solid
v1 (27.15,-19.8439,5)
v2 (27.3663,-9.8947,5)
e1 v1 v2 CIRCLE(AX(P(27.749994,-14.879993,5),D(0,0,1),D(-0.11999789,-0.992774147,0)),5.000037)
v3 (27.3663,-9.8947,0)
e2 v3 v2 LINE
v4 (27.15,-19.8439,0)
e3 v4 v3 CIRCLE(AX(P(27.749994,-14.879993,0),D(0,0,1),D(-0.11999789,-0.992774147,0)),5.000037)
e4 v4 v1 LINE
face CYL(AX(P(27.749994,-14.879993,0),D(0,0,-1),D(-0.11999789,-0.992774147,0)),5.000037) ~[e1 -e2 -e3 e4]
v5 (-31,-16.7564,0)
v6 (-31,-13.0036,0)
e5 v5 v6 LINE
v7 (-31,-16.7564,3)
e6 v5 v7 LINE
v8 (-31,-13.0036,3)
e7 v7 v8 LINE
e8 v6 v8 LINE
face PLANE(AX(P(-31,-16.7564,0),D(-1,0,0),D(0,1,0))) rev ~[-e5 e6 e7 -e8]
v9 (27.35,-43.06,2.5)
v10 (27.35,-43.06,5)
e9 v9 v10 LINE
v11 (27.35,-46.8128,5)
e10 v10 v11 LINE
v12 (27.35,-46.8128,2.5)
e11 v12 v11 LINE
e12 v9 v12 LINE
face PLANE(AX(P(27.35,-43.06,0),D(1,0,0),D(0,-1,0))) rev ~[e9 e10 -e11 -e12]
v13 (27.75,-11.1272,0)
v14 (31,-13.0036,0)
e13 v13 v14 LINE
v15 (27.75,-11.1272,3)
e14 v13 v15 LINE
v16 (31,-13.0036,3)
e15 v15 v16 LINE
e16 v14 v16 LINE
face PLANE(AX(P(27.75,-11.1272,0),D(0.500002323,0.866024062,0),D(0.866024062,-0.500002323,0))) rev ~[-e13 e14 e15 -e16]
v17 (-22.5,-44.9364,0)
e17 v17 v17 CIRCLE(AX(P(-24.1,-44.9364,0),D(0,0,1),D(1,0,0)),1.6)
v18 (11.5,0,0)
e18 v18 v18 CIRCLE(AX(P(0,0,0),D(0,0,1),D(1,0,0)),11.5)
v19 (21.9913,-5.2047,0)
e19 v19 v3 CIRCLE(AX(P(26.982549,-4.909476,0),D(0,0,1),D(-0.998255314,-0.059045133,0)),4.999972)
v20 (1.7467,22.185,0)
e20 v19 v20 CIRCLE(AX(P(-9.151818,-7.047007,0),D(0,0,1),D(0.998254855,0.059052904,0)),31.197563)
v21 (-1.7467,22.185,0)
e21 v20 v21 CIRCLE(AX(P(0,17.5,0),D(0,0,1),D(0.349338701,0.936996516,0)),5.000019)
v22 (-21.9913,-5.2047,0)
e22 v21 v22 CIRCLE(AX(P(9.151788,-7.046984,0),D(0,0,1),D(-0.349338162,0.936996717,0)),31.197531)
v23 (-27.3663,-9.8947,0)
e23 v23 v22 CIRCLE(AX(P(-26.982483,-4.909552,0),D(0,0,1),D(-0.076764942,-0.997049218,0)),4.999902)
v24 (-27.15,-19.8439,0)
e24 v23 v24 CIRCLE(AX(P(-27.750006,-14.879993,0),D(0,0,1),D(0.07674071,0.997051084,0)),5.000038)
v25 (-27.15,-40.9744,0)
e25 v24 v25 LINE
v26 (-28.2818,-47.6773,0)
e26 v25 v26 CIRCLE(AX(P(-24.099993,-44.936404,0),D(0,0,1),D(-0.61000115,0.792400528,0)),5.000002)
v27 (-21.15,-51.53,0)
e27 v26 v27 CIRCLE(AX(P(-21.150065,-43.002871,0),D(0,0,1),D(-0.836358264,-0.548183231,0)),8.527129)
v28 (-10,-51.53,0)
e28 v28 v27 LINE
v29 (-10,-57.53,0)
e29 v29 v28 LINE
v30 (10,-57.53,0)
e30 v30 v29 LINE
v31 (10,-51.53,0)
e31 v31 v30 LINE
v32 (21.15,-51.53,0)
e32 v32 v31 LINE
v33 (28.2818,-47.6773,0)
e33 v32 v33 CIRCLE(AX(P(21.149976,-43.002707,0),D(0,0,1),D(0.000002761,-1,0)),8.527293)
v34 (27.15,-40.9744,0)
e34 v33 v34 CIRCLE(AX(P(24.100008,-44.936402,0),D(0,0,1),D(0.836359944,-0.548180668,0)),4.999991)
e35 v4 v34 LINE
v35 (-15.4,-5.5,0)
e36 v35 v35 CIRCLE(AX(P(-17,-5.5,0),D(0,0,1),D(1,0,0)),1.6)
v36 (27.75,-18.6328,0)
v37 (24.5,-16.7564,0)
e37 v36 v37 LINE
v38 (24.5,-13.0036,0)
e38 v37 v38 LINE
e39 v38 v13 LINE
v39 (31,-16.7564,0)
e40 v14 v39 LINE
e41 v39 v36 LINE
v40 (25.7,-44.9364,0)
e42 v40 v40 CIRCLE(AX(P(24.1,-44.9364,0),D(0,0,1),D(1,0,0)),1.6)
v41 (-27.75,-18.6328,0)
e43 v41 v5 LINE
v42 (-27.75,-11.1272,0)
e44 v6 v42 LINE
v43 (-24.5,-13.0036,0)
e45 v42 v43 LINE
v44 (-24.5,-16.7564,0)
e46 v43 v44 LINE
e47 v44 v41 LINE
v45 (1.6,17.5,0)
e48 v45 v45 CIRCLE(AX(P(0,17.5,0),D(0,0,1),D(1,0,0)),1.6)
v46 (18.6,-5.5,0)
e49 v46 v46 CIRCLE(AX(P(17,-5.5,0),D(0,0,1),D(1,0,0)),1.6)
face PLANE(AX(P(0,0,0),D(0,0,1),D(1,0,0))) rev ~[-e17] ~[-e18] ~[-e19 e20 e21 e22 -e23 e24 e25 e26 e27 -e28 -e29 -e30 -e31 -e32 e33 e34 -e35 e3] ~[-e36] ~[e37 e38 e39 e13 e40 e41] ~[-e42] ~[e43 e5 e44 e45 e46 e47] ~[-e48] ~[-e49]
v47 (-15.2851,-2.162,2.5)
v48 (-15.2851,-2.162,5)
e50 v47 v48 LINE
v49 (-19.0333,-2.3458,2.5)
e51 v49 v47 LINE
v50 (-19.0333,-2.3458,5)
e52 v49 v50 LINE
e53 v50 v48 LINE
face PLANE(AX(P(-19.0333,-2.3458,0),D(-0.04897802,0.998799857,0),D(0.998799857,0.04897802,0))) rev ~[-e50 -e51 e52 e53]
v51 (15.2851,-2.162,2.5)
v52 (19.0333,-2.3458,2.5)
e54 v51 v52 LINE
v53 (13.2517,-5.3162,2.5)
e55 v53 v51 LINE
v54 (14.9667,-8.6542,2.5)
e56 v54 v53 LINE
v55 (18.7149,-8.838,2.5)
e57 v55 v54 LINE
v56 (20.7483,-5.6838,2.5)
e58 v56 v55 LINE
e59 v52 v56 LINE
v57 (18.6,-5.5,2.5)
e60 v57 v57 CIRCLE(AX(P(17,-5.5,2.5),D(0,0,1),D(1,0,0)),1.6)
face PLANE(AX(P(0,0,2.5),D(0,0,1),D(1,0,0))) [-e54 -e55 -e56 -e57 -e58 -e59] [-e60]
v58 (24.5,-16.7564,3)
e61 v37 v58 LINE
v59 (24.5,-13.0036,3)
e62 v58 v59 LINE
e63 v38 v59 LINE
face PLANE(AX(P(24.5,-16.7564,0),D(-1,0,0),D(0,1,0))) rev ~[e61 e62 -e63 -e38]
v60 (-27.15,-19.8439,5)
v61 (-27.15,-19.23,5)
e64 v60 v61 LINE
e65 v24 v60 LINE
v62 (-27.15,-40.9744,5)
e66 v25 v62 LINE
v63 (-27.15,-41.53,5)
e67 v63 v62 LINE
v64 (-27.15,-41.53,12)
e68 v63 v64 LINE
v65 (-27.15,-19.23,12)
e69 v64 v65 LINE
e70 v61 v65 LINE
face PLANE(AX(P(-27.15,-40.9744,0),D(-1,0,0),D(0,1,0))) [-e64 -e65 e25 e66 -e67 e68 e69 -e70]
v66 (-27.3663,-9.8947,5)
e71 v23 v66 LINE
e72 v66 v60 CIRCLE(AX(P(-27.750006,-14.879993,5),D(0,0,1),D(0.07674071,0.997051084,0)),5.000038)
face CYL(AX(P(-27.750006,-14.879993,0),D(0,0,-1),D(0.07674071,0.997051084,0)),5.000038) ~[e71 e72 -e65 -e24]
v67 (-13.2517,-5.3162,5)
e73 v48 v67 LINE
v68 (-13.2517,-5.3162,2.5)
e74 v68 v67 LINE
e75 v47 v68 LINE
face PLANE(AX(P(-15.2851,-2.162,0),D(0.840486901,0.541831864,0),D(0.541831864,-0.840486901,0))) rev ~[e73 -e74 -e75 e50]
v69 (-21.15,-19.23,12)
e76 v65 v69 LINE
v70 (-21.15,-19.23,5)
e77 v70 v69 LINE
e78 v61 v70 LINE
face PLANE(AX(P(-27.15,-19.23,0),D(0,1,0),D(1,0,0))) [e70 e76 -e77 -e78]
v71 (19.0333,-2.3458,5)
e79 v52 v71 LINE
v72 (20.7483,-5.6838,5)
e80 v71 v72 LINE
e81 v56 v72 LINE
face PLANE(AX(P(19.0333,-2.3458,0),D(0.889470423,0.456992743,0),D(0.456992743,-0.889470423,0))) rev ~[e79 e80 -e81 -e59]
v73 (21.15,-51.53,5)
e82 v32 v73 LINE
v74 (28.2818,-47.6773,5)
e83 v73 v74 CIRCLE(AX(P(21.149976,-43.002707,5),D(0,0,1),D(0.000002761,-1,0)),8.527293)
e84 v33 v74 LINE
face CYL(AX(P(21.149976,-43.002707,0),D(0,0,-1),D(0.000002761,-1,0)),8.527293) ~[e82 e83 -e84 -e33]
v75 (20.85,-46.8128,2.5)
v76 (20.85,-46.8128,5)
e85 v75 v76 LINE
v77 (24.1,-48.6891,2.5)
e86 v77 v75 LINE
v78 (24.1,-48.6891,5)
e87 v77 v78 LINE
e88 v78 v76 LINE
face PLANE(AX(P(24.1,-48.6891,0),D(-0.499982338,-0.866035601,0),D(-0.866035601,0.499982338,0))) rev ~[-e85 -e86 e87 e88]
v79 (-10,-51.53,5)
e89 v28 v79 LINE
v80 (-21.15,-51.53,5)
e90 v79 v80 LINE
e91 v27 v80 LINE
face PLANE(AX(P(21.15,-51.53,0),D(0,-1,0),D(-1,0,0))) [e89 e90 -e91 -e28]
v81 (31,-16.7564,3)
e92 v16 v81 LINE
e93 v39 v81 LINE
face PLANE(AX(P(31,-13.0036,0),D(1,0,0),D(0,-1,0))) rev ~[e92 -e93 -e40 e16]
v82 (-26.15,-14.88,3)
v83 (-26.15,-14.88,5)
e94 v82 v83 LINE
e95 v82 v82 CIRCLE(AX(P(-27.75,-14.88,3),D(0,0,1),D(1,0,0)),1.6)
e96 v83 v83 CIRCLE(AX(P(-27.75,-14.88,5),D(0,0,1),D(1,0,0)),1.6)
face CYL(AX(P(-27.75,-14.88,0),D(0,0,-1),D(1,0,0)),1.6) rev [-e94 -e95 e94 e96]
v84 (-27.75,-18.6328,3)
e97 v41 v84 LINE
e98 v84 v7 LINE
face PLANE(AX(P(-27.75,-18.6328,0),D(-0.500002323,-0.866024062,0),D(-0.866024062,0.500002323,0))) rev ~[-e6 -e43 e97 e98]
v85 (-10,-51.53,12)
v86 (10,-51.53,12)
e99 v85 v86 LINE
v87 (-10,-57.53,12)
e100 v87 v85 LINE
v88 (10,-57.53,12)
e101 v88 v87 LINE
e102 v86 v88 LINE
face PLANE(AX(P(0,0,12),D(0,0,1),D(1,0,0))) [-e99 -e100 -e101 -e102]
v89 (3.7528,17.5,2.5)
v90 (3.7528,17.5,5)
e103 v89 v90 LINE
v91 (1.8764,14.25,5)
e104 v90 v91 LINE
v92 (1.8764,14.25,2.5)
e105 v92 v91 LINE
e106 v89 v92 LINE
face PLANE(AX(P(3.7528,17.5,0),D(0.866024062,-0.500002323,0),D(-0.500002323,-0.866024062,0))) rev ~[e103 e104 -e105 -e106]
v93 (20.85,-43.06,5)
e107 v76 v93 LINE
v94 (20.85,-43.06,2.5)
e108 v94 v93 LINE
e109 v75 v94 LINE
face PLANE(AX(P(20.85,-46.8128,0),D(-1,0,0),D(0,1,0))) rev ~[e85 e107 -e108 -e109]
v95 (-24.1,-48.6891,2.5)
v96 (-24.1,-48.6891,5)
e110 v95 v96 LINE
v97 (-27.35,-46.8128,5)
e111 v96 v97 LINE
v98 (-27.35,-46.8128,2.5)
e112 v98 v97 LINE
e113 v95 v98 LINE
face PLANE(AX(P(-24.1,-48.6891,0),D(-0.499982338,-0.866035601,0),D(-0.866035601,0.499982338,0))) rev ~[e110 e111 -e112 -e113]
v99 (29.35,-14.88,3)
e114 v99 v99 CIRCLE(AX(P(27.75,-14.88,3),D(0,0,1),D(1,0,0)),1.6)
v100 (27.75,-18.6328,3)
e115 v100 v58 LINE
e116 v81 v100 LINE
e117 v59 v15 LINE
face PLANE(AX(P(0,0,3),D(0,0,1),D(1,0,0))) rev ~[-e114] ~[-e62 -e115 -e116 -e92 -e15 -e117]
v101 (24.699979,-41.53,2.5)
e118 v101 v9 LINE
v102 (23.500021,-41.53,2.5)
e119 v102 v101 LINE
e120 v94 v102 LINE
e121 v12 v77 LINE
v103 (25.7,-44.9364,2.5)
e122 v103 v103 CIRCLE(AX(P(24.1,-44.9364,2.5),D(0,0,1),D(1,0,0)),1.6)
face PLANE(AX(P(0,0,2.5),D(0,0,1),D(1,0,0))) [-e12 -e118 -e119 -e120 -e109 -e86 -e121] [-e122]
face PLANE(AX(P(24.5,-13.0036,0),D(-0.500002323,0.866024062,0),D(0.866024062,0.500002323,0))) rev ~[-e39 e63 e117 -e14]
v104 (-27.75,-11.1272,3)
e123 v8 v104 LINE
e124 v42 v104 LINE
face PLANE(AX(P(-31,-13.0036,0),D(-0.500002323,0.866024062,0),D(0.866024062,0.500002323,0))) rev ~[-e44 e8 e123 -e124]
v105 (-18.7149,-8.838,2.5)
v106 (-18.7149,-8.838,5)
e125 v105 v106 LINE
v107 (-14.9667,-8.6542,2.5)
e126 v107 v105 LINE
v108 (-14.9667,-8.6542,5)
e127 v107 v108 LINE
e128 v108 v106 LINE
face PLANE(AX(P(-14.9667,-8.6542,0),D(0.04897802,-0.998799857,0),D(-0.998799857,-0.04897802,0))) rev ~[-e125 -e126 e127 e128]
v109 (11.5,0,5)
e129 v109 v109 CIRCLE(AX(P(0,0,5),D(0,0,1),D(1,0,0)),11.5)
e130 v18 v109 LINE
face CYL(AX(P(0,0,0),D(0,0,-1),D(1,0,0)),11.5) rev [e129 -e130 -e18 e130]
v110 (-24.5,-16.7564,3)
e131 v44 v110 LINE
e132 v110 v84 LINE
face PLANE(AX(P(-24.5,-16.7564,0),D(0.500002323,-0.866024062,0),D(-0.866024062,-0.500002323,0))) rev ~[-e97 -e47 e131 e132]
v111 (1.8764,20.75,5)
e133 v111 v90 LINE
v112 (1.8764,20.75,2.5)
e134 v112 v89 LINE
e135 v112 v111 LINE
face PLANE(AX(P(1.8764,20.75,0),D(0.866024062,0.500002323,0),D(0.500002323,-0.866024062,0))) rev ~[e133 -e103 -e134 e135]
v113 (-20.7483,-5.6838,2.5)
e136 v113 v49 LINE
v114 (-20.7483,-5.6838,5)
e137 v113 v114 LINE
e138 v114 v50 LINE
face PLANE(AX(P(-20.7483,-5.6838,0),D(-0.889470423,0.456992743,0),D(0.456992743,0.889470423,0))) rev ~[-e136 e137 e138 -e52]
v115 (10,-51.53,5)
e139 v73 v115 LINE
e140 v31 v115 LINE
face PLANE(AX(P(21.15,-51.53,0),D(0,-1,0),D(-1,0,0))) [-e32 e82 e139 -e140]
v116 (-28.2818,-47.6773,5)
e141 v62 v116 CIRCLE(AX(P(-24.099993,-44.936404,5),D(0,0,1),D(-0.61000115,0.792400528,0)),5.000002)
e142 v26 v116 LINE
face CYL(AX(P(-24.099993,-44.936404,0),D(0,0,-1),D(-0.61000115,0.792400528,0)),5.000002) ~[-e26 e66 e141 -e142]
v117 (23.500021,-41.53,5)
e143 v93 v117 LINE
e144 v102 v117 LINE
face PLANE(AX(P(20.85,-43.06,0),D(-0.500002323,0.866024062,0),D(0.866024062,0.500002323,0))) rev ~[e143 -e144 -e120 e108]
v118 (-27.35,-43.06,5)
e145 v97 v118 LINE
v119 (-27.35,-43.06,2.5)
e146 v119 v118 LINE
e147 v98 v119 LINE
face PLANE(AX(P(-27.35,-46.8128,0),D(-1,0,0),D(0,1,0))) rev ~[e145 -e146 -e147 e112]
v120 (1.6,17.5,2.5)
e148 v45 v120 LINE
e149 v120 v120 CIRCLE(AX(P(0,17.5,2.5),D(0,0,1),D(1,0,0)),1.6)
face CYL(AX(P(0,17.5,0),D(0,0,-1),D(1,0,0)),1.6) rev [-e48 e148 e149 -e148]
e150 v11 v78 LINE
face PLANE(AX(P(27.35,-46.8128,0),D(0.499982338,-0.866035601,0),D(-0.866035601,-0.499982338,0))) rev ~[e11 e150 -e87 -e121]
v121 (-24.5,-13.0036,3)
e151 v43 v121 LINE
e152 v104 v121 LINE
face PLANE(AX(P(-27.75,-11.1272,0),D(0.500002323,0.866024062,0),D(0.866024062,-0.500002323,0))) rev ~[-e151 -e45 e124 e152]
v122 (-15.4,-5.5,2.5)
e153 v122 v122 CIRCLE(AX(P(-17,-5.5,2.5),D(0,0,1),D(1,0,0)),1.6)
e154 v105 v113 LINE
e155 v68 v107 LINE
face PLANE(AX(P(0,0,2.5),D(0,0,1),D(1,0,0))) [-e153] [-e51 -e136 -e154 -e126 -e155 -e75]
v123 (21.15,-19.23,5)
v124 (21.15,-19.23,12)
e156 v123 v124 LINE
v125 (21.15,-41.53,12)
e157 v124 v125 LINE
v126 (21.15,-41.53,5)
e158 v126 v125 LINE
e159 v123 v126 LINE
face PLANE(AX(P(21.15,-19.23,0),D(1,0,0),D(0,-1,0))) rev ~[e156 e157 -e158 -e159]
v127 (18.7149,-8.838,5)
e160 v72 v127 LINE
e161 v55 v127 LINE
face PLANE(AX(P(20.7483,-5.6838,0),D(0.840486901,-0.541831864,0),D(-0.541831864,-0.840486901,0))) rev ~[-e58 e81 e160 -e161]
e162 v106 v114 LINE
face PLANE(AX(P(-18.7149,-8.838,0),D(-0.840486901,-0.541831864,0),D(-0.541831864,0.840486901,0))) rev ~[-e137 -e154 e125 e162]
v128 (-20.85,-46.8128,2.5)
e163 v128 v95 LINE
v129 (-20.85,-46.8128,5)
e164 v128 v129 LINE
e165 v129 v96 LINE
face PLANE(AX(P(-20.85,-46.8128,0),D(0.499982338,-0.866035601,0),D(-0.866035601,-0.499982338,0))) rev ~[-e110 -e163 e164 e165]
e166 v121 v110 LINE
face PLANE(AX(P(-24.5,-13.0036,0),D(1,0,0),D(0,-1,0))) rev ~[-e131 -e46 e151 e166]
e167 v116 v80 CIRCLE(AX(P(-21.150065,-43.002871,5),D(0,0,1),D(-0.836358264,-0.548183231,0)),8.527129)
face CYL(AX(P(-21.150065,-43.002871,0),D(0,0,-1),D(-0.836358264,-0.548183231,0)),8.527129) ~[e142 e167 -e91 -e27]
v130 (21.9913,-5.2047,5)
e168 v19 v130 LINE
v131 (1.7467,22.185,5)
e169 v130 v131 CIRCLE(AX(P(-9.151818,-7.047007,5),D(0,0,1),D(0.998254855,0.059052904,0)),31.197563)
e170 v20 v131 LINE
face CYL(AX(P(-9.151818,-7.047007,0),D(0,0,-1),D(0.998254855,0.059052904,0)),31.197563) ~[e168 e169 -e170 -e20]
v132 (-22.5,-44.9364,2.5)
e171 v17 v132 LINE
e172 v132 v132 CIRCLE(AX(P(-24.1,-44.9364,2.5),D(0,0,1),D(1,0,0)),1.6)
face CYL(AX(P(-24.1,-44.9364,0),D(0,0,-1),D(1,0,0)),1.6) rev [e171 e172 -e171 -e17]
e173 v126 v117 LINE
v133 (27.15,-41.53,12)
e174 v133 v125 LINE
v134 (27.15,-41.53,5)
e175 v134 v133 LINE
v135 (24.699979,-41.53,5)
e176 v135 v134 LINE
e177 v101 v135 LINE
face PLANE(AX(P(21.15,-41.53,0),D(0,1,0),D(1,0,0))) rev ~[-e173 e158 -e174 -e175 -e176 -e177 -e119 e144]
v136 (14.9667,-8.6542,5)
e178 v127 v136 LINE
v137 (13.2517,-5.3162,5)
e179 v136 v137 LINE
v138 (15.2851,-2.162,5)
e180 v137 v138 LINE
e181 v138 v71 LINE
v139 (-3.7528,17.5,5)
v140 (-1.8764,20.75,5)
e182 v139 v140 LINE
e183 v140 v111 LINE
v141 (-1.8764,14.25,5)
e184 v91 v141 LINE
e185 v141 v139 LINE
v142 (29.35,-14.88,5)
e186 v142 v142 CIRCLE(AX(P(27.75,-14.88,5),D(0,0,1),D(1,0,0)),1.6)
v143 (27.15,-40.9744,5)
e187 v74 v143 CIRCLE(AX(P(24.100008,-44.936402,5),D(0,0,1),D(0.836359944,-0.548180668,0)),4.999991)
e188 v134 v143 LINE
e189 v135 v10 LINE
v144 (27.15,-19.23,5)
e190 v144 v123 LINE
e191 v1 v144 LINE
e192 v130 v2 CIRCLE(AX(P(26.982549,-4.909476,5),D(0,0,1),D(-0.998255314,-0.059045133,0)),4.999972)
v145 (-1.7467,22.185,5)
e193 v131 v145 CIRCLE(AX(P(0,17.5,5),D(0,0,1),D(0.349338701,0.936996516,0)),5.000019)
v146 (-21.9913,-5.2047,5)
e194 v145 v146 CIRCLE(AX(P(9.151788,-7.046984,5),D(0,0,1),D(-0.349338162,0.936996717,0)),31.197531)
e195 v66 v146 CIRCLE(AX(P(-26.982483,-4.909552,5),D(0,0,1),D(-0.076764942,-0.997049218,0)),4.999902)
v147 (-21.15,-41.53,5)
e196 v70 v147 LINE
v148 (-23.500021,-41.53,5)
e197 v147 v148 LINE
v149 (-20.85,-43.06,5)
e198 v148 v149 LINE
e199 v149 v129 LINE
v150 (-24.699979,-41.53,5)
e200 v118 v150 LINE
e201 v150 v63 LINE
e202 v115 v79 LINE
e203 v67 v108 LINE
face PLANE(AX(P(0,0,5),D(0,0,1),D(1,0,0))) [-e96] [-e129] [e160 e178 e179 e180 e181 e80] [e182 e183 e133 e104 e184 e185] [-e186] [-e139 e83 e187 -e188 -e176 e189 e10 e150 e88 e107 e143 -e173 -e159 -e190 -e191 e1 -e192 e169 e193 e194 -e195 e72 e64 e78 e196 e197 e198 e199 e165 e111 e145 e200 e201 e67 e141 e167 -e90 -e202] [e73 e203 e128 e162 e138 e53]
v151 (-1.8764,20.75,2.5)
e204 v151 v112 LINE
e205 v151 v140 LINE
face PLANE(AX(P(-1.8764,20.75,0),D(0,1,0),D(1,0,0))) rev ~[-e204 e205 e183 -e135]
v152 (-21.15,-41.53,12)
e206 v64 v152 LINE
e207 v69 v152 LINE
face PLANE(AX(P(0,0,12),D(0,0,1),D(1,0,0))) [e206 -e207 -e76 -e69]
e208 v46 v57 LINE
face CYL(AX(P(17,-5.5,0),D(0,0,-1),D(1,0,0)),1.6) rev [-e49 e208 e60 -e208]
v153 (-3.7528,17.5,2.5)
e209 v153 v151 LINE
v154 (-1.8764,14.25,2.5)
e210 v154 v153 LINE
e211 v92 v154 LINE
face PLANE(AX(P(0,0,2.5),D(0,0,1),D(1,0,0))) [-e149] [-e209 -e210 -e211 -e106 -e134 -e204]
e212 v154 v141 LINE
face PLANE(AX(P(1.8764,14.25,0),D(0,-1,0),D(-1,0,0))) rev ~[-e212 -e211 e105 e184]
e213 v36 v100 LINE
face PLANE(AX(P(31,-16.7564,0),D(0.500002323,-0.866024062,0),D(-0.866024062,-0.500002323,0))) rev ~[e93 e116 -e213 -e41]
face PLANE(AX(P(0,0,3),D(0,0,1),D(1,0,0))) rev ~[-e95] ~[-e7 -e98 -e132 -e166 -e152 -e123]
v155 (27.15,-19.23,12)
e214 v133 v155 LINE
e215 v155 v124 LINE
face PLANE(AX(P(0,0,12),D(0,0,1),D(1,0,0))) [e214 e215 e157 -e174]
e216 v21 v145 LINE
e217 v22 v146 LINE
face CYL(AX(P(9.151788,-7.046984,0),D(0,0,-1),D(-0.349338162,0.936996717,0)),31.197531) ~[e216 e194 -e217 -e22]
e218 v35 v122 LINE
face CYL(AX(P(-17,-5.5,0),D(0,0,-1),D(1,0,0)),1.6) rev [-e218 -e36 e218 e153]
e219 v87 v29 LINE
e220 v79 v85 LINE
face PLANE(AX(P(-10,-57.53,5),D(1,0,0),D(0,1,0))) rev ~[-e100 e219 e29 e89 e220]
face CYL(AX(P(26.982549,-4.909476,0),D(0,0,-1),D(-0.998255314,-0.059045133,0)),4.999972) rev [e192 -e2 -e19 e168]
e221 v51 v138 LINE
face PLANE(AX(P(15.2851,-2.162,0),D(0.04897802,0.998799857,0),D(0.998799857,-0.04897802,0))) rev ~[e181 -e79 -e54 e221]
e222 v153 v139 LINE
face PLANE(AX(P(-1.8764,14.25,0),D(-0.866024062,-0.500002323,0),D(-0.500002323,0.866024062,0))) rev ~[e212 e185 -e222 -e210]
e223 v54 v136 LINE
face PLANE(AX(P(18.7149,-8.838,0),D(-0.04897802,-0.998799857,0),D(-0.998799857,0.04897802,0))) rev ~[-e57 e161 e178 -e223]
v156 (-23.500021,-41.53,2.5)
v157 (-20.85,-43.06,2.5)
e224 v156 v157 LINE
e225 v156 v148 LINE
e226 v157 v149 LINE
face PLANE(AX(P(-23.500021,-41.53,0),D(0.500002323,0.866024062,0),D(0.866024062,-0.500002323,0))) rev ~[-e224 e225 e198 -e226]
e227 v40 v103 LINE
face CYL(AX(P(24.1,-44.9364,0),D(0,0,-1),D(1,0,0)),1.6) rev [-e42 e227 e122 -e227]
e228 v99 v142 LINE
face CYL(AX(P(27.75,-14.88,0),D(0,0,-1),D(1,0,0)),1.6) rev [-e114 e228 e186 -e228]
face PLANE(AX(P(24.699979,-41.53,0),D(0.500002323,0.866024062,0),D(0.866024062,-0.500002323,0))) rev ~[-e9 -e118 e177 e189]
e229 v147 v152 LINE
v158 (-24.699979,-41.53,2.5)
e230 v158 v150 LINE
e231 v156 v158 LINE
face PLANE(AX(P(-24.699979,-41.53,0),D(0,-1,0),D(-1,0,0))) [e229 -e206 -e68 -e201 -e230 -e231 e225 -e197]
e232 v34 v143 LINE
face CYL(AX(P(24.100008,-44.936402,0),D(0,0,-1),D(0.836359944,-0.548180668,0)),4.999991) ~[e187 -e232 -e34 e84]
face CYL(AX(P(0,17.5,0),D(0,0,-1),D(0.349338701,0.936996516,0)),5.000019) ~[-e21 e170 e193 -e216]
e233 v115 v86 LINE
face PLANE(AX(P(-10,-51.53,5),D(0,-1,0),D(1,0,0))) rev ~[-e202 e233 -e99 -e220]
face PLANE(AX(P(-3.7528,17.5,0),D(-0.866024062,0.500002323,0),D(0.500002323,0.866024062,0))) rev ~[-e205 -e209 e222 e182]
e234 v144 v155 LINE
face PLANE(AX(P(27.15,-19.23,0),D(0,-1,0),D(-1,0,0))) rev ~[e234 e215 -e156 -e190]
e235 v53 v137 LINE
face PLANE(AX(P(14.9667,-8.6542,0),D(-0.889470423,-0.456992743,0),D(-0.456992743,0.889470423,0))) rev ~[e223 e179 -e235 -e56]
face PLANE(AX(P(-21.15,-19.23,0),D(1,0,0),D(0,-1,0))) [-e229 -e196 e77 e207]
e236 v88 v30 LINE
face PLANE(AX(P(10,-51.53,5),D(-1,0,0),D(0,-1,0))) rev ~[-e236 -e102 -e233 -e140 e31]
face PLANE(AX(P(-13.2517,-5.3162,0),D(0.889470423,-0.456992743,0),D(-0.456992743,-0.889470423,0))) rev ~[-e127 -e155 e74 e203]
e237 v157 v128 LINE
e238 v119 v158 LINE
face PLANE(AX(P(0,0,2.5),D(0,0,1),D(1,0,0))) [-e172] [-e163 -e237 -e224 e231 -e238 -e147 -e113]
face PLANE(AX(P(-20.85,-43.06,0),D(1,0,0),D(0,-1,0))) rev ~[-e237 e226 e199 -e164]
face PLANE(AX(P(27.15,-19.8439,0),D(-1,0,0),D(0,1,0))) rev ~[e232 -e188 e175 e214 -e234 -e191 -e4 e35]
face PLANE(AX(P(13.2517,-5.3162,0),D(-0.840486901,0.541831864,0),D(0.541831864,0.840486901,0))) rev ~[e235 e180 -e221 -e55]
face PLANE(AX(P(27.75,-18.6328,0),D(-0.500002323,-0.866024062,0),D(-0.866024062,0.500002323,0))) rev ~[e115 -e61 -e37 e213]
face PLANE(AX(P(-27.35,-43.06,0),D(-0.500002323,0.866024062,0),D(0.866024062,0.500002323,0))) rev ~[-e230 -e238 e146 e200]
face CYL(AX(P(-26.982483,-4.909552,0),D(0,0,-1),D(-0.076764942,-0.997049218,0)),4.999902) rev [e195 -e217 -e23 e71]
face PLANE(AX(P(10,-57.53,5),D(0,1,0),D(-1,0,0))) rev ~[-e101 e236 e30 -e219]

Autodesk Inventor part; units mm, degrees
ref_plane "YZ Plane" through (0, 0, 0) normal (1, 0, 0) x (0, 1, 0)
ref_plane "XZ Plane" through (0, 0, 0) normal (0, 1, 0) x (-1, 0, 0)
ref_plane "XY Plane" through (0, 0, 0) normal (0, 0, 1) x (1, 0, 0)
sketch "Sketch1" plane through (0, 0, 0) normal (0, 0, 1) x (1, 0, 0)
  circle A0 centre (0, 0) radius 11.5
  line L0 (21.15, -51.53) -> (-21.15, -51.53) construction
  line L1 (-21.15, -51.53) -> (-21.15, -9.23) construction
  line L2 (-21.15, -9.23) -> (21.15, -9.23) construction
  line L3 (21.15, -9.23) -> (21.15, -51.53) construction
  circle A1 centre (0, 17.5) radius 1.6
  circle A2 centre (17, -5.5) radius 1.6
  circle A3 centre (-17, -5.5) radius 1.6
  line L4 (13.2517, -5.3162) -> (15.2851, -2.162)
  line L5 (15.2851, -2.162) -> (19.0333, -2.3458)
  line L6 (19.0333, -2.3458) -> (20.7483, -5.6838)
  line L7 (20.7483, -5.6838) -> (18.7149, -8.838)
  line L8 (18.7149, -8.838) -> (14.9667, -8.6542)
  line L9 (14.9667, -8.6542) -> (13.2517, -5.3162)
  line L10 (-14.9667, -8.6542) -> (-18.7149, -8.838)
  line L11 (-18.7149, -8.838) -> (-20.7483, -5.6838)
  line L12 (-20.7483, -5.6838) -> (-19.0333, -2.3458)
  line L13 (-19.0333, -2.3458) -> (-15.2851, -2.162)
  line L14 (-15.2851, -2.162) -> (-13.2517, -5.3162)
  line L15 (-13.2517, -5.3162) -> (-14.9667, -8.6542)
  line L16 (-1.8764, 14.25) -> (-3.7528, 17.5)
  line L17 (-3.7528, 17.5) -> (-1.8764, 20.75)
  line L18 (-1.8764, 20.75) -> (1.8764, 20.75)
  line L19 (1.8764, 20.75) -> (3.7528, 17.5)
  line L20 (3.7528, 17.5) -> (1.8764, 14.25)
  line L21 (1.8764, 14.25) -> (-1.8764, 14.25)
  line L22 (0, 0) -> (0, 17.5) construction
  line L23 (14.9667, -8.6542) -> (14.9667, -9.23) construction
  line L24 (13.2517, -5.3162) -> (12.7488, -5.0358) construction
  line L25 (21.15, -41.53) -> (27.15, -41.53)
  line L26 (27.15, -41.53) -> (27.15, -19.23)
  line L27 (27.15, -19.23) -> (21.15, -19.23)
  line L28 (21.15, -19.23) -> (21.15, -41.53)
  line L29 (-21.15, -41.53) -> (-27.15, -41.53)
  line L30 (-27.15, -41.53) -> (-27.15, -19.23)
  line L31 (-27.15, -19.23) -> (-21.15, -19.23)
  line L32 (-21.15, -19.23) -> (-21.15, -41.53)
  circle A4 centre (27.75, -14.88) radius 1.6
  circle A5 centre (-27.75, -14.88) radius 1.6
  line L33 (24.5, -16.7564) -> (24.5, -13.0036)
  line L34 (24.5, -13.0036) -> (27.75, -11.1272)
  line L35 (27.75, -11.1272) -> (31, -13.0036)
  line L36 (31, -13.0036) -> (31, -16.7564)
  line L37 (31, -16.7564) -> (27.75, -18.6328)
  line L38 (27.75, -18.6328) -> (24.5, -16.7564)
  line L39 (-27.75, -18.6328) -> (-31, -16.7564)
  line L40 (-31, -16.7564) -> (-31, -13.0036)
  line L41 (-31, -13.0036) -> (-27.75, -11.1272)
  line L42 (-27.75, -11.1272) -> (-24.5, -13.0036)
  line L43 (-24.5, -13.0036) -> (-24.5, -16.7564)
  line L44 (-24.5, -16.7564) -> (-27.75, -18.6328)
  circle A6 centre (-24.1, -44.9364) radius 1.6
  circle A7 centre (24.1, -44.9364) radius 1.6
  line L45 (-24.1, -48.6891) -> (-27.35, -46.8128)
  line L46 (-27.35, -46.8128) -> (-27.35, -43.06)
  line L47 (-27.35, -43.06) -> (-24.1, -41.1836)
  line L48 (-24.1, -41.1836) -> (-20.85, -43.06)
  line L49 (-20.85, -43.06) -> (-20.85, -46.8128)
  line L50 (-20.85, -46.8128) -> (-24.1, -48.6891)
  line L51 (24.1, -48.6891) -> (20.85, -46.8128)
  line L52 (20.85, -46.8128) -> (20.85, -43.06)
  line L53 (20.85, -43.06) -> (24.1, -41.1836)
  line L54 (24.1, -41.1836) -> (27.35, -43.06)
  line L55 (27.35, -43.06) -> (27.35, -46.8128)
  line L56 (27.35, -46.8128) -> (24.1, -48.6891)
  arc A8 (-27.3663, -9.8947) -> (-27.15, -19.8439) centre (-27.75, -14.88) ccw
  arc A9 (27.15, -19.8439) -> (27.3663, -9.8947) centre (27.75, -14.88) ccw
  arc A10 (-27.15, -40.9744) -> (-28.2818, -47.6773) centre (-24.1, -44.9364) ccw
  arc A11 (28.2818, -47.6773) -> (27.15, -40.9744) centre (24.1, -44.9364) ccw
  line L57 (21.15, -48.9734) -> (21.15, -51.53)
  line L58 (21.15, -51.53) -> (-21.15, -51.53)
  line L59 (-21.15, -51.53) -> (-21.15, -48.9734)
  arc A12 (1.7467, 22.185) -> (-1.7467, 22.185) centre (0, 17.5) ccw
  arc A13 (-27.3663, -9.8947) -> (-21.9913, -5.2047) centre (-26.9825, -4.9095) ccw
  arc A14 (21.9913, -5.2047) -> (27.3663, -9.8947) centre (26.9825, -4.9095) ccw
  arc A15 (21.15, -51.53) -> (28.2818, -47.6773) centre (21.15, -43.0028) ccw
  arc A16 (-28.2818, -47.6773) -> (-21.15, -51.53) centre (-21.15, -43.0028) ccw
  arc A17 (-1.7467, 22.185) -> (-21.9913, -5.2047) centre (9.1518, -7.047) ccw
  arc A18 (21.9913, -5.2047) -> (1.7467, 22.185) centre (-9.1518, -7.047) ccw
  dimension "d1" = 23
  dimension "d19" = 9.23
  dimension "d20" = 42.3
  dimension "d21" = 21.15
  dimension "d22" = 42.3
  dimension "d23" = 3.2
  dimension "d24" = 3.2
  dimension "d25" = 3.2
  dimension "d26" = 5.5
  dimension "d27" = 17
  dimension "d28" = 5.5
  dimension "d29" = 17
  dimension "d30" = 6.5
  dimension "d31" = 17.5
  dimension "d32" = 6.5
  dimension "d33" = 6.5
  dimension "d35" = 0.5758
  dimension "d36" = 0.5758
  dimension "d37" = 6
  dimension "d38" = 10
  dimension "d39" = 10
  dimension "d40" = 6
  dimension "d41" = 3.2
  dimension "d42" = 3.2
  dimension "d43" = 5.65
  dimension "d44" = 6.6
  dimension "d45" = 6.6
  dimension "d46" = 5.65
  dimension "d47" = 6.5
  dimension "d48" = 6.5
  dimension "d49" = 3.2
  dimension "d50" = 3.2
  dimension "d52" = 2.95
  dimension "d53" = 2.95
  dimension "d56" = 10
  dimension "d57" = 10
  dimension "d58" = 10
  dimension "d59" = 10
  dimension "d61" = 10
  dimension "d63" = 10
  dimension "d64" = 10
  dimension "d90" = 3.4064
  dimension "d91" = 3.4064
  dimension "d92" = 6.5
  dimension "d93" = 6.5
extrude "Extrusion5" add sketch "Sketch1" along normal blind 5 contours L25 L53 L52 L51 L56 L55 L54 L26 A11 A15 L58 A16 A10 L30 L29 L47 L46 L45 L50 L49 L48 L32 L31 A8 A13 A17 A12 A18 A14 A9 L27 L28 | L33 L34 L35 L36 L37 L38 | L39 L40 L41 L42 L43 L44
extrude "Extrusion6" add sketch "Sketch1" along normal blind 12 contours L28 L27 L26 L25 L54 L53 | L53 L54 L25 | L30 L31 L32 L29 L48 L47 | L47 L48 L29
extrude "Extrusion7" add sketch "Sketch1" along normal blind 2.5 contours L4 L5 L6 L7 L8 L9 | L10 L11 L12 L13 L14 L15 | L16 L17 L18 L19 L20 L21 | L53 L54 L25 | L25 L54 L55 L56 L51 L52 L53 | L47 L48 L29 | L29 L48 L49 L50 L45 L46 L47
extrude "Extrusion8" cut sketch "Sketch1" along normal blind 3 contours L33 L34 L35 L36 L37 L38 | L39 L40 L41 L42 L43 L44
sketch "Sketch2" plane through (0, 0, 5) normal (0, 0, 1) x (1, 0, 0)
  circle A0 centre (0, 17.5) radius 1.6 projected
  circle A1 centre (-17, -5.5) radius 1.6 projected
  circle A2 centre (-17, -5.5) radius 1.6 projected
  circle A3 centre (-24.1, -44.9364) radius 1.6 projected
  circle A4 centre (24.1, -44.9364) radius 1.6 projected
  circle A5 centre (24.1, -44.9364) radius 1.6 projected
  circle A6 centre (17, -5.5) radius 1.6 projected
  circle A7 centre (17, -5.5) radius 1.6 projected
  circle A8 centre (0, 0) radius 11.5 projected
  circle A9 centre (0, 0) radius 11.5 projected
  dimension "d77" = 23
  dimension "d78" = 17.5
  dimension "d79" = 34
  dimension "d80" = 5.5
  dimension "d81" = 48.2
  dimension "d82" = 44.9364
sketch "Sketch3" plane through (0, 0, 5) normal (0, 0, 1) x (1, 0, 0)
  circle A0 centre (-27.75, -14.88) radius 1.6 projected
  circle A1 centre (27.75, -14.88) radius 1.6 projected
  circle A2 centre (0, 0) radius 11.5 projected
  line L0 (-3.7528, 17.5) -> (-1.8764, 20.75) projected
  line L1 (-1.8764, 20.75) -> (1.8764, 20.75) projected
  line L2 (1.8764, 20.75) -> (3.7528, 17.5) projected
  line L3 (3.7528, 17.5) -> (1.8764, 14.25) projected
  line L4 (1.8764, 14.25) -> (-1.8764, 14.25) projected
  line L5 (-1.8764, 14.25) -> (-3.7528, 17.5) projected
  line L6 (-18.7149, -8.838) -> (-20.7483, -5.6838) projected
  line L7 (-20.7483, -5.6838) -> (-19.0333, -2.3458) projected
  line L8 (-19.0333, -2.3458) -> (-15.2851, -2.162) projected
  line L9 (-15.2851, -2.162) -> (-13.2517, -5.3162) projected
  line L10 (-13.2517, -5.3162) -> (-14.9667, -8.6542) projected
  line L11 (-14.9667, -8.6542) -> (-18.7149, -8.838) projected
  line L12 (15.2851, -2.162) -> (19.0333, -2.3458) projected
  line L13 (19.0333, -2.3458) -> (20.7483, -5.6838) projected
  line L14 (20.7483, -5.6838) -> (18.7149, -8.838) projected
  line L15 (18.7149, -8.838) -> (14.9667, -8.6542) projected
  line L16 (14.9667, -8.6542) -> (13.2517, -5.3162) projected
  line L17 (13.2517, -5.3162) -> (15.2851, -2.162) projected
  arc A3 (21.15, -51.53) -> (28.2818, -47.6773) centre (21.15, -43.0028) ccw projected
  arc A4 (28.2818, -47.6773) -> (27.15, -40.9744) centre (24.1, -44.9364) ccw projected
  line L18 (27.15, -40.9744) -> (27.15, -41.53) projected
  line L19 (27.15, -41.53) -> (24.7, -41.53) projected
  line L20 (24.7, -41.53) -> (27.35, -43.06) projected
  line L21 (27.35, -43.06) -> (27.35, -46.8128) projected
  line L22 (27.35, -46.8128) -> (24.1, -48.6891) projected
  line L23 (24.1, -48.6891) -> (20.85, -46.8128) projected
  line L24 (20.85, -46.8128) -> (20.85, -43.06) projected
  line L25 (20.85, -43.06) -> (23.5, -41.53) projected
  line L26 (21.15, -41.53) -> (21.15, -19.23) projected
  line L27 (21.15, -19.23) -> (27.15, -19.23) projected
  line L28 (27.15, -19.23) -> (27.15, -19.8439) projected
  arc A5 (27.15, -19.8439) -> (27.3663, -9.8947) centre (27.75, -14.88) ccw projected
  arc A6 (21.9913, -5.2047) -> (27.3663, -9.8947) centre (26.9825, -4.9095) ccw projected
  arc A7 (21.9913, -5.2047) -> (1.7467, 22.185) centre (-9.1518, -7.047) ccw projected
  arc A8 (1.7467, 22.185) -> (-1.7467, 22.185) centre (0, 17.5) ccw projected
  arc A9 (-1.7467, 22.185) -> (-21.9913, -5.2047) centre (9.1518, -7.047) ccw projected
  arc A10 (-27.3663, -9.8947) -> (-21.9913, -5.2047) centre (-26.9825, -4.9095) ccw projected
  arc A11 (-27.3663, -9.8947) -> (-27.15, -19.8439) centre (-27.75, -14.88) ccw projected
  line L29 (-27.15, -19.8439) -> (-27.15, -19.23) projected
  line L30 (-27.15, -19.23) -> (-21.15, -19.23) projected
  line L31 (-21.15, -19.23) -> (-21.15, -41.53) projected
  line L32 (-24.7, -41.53) -> (-27.15, -41.53) projected
  line L33 (-23.5, -41.53) -> (-20.85, -43.06) projected
  line L34 (-20.85, -43.06) -> (-20.85, -46.8128) projected
  line L35 (-20.85, -46.8128) -> (-24.1, -48.6891) projected
  line L36 (-24.1, -48.6891) -> (-27.35, -46.8128) projected
  line L37 (-27.35, -46.8128) -> (-27.35, -43.06) projected
  line L38 (-27.35, -43.06) -> (-24.7, -41.53) projected
  line L39 (-27.15, -41.53) -> (-27.15, -40.9744) projected
  arc A12 (-27.15, -40.9744) -> (-28.2818, -47.6773) centre (-24.1, -44.9364) ccw projected
  arc A13 (-28.2818, -47.6773) -> (-21.15, -51.53) centre (-21.15, -43.0028) ccw projected
  line L40 (-21.15, -51.53) -> (21.15, -51.53) projected
  line L41 (-21.15, -51.53) -> (21.15, -51.53) projected
  line L42 (-10, -51.53) -> (10, -51.53)
  line L43 (10, -51.53) -> (10, -57.53)
  line L44 (10, -57.53) -> (-10, -57.53)
  line L45 (-10, -57.53) -> (-10, -51.53)
  line L46 (23.5, -41.53) -> (21.15, -41.53) projected
  line L47 (-21.15, -41.53) -> (-23.5, -41.53) projected
  dimension "d83" = 6
  dimension "d84" = 20
  dimension "d85" = 10
extrude "Extrusion9" add sketch "Sketch3" against normal blind 5 and the other way blind 7 contours L43 L44 L45 L40
equation "\"d21\" = 0.5 * d20"
equation "\"d22\" = d20"
properties part number "BallBearingHolderBottom"
